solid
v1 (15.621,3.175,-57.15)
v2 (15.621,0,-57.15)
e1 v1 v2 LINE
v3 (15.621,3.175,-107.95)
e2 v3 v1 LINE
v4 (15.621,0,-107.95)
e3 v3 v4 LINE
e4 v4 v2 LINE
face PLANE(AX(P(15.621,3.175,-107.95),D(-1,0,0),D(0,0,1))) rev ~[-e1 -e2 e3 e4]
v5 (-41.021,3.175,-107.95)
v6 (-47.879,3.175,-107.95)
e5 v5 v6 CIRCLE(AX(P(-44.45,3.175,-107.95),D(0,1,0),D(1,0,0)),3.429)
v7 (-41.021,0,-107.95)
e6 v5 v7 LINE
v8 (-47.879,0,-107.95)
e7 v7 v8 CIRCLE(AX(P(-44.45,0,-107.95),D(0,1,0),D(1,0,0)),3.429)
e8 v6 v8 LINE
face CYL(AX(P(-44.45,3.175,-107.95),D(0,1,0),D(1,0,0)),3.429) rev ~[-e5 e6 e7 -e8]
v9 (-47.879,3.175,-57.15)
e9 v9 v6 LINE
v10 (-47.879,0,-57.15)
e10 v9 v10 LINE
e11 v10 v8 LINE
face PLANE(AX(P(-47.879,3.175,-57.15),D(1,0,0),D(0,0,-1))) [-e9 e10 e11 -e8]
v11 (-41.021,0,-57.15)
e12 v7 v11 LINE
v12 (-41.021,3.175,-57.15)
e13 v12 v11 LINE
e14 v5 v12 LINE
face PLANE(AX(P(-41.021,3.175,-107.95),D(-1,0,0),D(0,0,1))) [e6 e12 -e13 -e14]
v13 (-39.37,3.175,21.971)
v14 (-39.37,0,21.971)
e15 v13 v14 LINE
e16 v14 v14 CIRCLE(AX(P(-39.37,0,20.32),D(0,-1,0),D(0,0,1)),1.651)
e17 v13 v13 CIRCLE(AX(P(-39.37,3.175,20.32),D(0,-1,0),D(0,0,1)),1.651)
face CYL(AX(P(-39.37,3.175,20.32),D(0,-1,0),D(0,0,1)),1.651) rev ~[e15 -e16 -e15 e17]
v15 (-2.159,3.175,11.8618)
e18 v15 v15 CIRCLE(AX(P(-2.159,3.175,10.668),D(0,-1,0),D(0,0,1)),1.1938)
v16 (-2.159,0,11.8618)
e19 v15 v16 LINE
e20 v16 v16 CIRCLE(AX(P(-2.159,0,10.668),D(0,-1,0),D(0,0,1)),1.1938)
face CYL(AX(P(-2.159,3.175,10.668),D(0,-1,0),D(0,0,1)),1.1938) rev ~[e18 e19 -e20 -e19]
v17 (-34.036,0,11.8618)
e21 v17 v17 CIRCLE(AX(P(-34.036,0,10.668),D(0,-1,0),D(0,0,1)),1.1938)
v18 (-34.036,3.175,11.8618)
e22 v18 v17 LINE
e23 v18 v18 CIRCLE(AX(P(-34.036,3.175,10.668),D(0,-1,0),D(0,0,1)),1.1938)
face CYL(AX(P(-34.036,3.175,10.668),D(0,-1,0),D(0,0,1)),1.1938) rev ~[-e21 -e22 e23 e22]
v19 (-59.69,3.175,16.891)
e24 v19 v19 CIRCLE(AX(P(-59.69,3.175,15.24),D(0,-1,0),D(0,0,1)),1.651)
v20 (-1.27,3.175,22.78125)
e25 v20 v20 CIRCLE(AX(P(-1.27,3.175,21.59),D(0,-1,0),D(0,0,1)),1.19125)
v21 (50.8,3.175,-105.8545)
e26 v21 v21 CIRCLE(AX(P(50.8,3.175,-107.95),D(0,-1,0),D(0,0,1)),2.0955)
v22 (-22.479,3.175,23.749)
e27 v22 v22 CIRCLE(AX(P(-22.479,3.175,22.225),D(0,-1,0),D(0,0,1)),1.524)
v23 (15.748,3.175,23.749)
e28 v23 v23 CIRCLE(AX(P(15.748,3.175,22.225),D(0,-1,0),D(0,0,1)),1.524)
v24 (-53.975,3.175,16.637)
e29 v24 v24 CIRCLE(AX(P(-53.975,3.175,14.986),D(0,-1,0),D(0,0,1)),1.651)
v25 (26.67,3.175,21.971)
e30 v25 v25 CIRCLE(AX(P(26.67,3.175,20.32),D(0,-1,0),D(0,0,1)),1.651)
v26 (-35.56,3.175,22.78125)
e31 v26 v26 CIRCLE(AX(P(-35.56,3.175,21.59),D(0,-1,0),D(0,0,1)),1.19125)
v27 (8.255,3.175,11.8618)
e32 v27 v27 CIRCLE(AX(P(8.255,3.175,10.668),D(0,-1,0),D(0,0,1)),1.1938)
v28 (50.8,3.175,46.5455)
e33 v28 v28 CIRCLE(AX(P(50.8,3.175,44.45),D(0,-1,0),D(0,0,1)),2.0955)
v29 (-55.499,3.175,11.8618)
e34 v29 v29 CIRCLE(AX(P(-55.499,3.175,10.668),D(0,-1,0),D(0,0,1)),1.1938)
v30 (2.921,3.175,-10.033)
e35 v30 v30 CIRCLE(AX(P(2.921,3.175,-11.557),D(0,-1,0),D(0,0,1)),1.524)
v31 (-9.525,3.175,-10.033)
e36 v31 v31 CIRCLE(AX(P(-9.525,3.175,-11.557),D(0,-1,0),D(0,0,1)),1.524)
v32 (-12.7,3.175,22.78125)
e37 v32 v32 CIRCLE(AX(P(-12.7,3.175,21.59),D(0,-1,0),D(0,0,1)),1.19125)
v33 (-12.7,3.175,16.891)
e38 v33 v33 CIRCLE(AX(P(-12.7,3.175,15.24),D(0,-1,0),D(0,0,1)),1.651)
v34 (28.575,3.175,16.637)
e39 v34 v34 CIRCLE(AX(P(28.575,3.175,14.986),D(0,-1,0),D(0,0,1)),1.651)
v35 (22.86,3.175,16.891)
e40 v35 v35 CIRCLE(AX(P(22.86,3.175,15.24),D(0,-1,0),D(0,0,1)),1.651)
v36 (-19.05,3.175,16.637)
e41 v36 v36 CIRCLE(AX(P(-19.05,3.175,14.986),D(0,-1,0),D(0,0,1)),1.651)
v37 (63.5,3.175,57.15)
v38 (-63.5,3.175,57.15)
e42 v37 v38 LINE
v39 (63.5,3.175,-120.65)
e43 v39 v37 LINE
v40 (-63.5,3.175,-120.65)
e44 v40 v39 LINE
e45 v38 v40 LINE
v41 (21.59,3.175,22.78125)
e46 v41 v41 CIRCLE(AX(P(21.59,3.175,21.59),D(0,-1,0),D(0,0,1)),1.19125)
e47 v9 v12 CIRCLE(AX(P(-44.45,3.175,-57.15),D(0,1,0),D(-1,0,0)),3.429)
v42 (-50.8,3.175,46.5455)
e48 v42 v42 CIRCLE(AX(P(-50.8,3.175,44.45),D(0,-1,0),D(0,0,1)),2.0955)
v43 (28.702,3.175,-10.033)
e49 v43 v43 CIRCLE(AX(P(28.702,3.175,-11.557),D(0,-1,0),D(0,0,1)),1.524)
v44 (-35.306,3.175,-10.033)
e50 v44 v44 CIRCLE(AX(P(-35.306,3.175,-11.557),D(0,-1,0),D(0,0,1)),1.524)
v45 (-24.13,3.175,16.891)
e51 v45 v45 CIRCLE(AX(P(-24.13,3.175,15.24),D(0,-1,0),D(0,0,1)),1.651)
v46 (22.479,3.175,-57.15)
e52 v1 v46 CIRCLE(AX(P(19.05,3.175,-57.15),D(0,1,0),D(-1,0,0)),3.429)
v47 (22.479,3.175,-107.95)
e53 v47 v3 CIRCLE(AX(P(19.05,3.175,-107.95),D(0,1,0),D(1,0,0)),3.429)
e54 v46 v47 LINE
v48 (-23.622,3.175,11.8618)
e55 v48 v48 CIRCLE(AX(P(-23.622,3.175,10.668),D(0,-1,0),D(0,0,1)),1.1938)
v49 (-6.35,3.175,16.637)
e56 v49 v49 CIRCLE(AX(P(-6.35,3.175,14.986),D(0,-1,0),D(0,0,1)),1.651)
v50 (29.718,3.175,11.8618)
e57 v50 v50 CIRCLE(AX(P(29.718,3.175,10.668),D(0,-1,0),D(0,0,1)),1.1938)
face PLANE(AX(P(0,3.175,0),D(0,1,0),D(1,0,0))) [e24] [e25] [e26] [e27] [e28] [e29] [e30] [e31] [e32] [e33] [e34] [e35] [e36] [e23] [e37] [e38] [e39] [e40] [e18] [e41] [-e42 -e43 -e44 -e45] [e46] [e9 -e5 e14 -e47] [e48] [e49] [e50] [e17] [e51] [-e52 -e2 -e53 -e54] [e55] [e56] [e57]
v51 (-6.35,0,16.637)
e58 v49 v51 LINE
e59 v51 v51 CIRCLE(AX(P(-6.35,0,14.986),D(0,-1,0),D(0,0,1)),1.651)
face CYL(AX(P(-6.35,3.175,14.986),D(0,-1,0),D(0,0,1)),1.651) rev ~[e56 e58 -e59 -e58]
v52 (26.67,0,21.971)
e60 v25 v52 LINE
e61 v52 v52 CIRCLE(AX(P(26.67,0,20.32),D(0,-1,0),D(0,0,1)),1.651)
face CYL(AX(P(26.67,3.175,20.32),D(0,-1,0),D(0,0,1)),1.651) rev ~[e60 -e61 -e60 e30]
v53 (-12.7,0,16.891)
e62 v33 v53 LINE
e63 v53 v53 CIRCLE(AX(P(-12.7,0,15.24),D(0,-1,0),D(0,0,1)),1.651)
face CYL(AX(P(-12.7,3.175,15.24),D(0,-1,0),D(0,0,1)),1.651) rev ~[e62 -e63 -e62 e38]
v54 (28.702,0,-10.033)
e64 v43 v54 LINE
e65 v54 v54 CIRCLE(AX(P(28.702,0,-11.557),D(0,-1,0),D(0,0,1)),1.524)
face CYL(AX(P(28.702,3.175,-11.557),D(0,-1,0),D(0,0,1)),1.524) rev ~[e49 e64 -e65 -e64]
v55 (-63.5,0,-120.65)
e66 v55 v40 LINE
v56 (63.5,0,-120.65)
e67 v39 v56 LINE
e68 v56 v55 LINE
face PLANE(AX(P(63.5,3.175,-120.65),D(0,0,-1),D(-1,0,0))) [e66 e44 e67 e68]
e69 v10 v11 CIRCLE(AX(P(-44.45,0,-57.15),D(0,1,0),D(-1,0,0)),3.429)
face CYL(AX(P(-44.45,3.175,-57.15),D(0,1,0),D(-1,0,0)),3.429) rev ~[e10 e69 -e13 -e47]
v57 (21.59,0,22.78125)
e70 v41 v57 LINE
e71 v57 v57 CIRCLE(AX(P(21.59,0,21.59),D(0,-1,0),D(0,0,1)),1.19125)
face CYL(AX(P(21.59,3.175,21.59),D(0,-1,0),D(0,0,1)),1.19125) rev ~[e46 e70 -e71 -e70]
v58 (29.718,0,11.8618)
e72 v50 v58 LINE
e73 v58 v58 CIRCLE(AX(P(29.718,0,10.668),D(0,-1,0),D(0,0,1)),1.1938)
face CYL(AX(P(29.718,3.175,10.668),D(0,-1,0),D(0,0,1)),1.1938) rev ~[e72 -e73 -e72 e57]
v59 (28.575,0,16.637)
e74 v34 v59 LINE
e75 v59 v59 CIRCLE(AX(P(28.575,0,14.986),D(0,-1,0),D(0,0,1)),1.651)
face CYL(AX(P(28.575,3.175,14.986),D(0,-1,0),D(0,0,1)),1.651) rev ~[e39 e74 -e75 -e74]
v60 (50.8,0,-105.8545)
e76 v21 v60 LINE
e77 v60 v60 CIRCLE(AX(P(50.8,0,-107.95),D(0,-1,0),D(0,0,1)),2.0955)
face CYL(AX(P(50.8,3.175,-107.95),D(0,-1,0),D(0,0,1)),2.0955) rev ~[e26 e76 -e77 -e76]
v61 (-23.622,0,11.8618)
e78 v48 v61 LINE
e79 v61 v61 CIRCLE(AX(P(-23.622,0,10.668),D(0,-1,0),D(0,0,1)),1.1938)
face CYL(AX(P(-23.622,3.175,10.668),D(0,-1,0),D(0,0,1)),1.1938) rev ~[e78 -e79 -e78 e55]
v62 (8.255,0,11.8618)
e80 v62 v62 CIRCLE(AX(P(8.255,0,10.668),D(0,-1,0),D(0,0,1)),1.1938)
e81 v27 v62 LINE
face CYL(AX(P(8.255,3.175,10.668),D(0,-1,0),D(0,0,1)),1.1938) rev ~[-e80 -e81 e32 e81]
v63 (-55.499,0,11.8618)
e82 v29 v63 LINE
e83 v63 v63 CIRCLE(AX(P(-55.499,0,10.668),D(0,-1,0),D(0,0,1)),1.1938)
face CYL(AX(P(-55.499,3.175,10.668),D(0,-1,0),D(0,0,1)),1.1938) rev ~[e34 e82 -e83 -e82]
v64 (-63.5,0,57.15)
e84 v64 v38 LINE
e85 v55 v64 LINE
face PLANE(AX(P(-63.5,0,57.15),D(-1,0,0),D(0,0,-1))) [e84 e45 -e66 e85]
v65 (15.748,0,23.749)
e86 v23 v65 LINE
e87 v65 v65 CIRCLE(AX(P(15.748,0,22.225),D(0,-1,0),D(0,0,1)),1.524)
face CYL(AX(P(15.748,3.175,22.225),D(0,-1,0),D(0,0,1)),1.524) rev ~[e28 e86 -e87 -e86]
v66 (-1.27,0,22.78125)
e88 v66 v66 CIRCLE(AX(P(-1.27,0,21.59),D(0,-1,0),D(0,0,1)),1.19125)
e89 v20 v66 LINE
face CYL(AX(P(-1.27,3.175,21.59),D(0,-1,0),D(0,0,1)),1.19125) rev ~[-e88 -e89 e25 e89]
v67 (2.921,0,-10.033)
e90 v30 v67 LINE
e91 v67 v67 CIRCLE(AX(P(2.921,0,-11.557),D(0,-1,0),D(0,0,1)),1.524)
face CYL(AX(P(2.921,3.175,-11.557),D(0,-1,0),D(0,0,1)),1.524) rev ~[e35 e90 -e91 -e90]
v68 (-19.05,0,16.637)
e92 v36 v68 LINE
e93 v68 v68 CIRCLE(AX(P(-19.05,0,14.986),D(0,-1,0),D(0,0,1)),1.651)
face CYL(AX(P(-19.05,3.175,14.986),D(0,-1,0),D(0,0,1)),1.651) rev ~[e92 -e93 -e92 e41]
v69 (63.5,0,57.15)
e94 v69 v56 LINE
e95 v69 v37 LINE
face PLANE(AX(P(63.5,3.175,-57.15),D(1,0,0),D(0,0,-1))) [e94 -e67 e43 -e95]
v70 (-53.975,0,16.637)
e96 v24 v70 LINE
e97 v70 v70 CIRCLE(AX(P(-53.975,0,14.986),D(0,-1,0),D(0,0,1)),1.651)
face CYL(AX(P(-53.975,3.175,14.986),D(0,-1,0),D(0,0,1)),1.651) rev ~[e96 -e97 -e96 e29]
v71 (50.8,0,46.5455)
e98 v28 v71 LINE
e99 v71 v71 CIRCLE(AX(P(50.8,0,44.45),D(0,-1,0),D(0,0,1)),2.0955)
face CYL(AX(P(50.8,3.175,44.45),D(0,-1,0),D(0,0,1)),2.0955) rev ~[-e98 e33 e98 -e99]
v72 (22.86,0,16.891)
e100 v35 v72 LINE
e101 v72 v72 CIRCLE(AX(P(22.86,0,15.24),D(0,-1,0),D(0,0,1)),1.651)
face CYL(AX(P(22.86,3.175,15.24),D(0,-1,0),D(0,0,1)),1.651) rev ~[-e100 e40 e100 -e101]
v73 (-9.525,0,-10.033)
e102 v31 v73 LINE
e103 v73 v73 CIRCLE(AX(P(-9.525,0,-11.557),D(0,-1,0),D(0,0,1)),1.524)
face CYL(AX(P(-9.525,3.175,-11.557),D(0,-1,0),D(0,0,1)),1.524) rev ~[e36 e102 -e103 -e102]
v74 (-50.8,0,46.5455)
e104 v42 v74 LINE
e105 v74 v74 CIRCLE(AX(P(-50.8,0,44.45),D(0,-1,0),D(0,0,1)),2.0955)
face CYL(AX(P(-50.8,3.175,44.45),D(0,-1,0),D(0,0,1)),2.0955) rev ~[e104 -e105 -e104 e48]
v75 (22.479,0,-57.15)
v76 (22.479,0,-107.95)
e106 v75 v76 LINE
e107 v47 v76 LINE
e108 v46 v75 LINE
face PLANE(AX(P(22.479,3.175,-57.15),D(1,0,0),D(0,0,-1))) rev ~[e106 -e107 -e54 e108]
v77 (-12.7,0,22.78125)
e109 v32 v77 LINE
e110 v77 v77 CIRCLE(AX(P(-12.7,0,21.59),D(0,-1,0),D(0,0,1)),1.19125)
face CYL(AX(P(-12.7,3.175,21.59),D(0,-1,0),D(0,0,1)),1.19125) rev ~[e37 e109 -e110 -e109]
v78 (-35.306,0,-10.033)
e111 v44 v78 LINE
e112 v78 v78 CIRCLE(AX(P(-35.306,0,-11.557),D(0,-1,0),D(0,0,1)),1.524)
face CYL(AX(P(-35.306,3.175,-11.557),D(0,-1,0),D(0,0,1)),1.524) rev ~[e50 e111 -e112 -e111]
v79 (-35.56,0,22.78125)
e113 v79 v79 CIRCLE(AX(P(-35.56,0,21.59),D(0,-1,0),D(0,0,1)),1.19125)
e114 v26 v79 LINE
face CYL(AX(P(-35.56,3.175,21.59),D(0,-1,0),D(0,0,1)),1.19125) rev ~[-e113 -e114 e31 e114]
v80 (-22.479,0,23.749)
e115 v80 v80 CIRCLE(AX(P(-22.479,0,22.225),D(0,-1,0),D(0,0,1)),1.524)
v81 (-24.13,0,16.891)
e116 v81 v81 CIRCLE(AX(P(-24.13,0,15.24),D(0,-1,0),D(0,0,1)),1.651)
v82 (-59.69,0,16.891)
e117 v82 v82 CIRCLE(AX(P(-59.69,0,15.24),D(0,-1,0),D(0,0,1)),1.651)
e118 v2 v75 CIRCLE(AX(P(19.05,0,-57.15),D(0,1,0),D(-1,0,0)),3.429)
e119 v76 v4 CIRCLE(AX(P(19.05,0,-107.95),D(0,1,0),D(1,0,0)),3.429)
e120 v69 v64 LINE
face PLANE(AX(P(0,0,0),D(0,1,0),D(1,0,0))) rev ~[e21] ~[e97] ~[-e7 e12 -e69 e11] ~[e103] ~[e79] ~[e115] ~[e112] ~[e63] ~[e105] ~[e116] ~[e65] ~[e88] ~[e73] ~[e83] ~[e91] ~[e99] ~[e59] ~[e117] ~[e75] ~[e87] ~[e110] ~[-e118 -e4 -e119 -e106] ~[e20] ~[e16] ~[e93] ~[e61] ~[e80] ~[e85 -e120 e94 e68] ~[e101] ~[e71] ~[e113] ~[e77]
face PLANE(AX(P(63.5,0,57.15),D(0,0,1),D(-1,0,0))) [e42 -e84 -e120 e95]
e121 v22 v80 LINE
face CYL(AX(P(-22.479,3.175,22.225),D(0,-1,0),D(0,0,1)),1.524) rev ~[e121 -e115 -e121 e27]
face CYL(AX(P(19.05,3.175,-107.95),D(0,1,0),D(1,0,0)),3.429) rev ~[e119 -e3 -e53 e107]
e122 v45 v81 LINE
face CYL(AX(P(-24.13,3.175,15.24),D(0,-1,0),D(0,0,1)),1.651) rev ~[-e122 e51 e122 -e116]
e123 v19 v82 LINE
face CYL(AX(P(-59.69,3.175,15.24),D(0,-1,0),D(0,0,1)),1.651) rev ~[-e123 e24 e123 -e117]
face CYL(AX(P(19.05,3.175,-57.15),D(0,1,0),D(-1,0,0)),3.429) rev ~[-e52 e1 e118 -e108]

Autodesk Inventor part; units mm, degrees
ref_plane "YZ Plane" through (0, 0, 0) normal (1, 0, 0) x (0, 1, 0)
ref_plane "XZ Plane" through (0, 0, 0) normal (0, 1, 0) x (-1, 0, 0)
ref_plane "XY Plane" through (0, 0, 0) normal (0, 0, 1) x (1, 0, 0)
sketch "Sketch1" plane through (0, 0, 0) normal (0, 1, 0) x (-1, 0, 0)
  line L0 (-63.5, 57.15) -> (63.5, 57.15)
  line L1 (63.5, 57.15) -> (63.5, -57.15)
  line L2 (63.5, -57.15) -> (-63.5, -57.15)
  line L3 (-63.5, -57.15) -> (-63.5, 57.15)
  line L4 (-63.5, 57.15) -> (63.5, -57.15) construction
  line L5 (63.5, 57.15) -> (-63.5, -57.15) construction
  line L6 (63.5, -57.15) -> (-38.1, -57.15)
  line L7 (-38.1, -57.15) -> (-38.1, -120.65)
  line L8 (-38.1, -120.65) -> (63.5, -120.65)
  line L9 (63.5, -120.65) -> (63.5, -57.15)
  line L10 (-38.1, -57.15) -> (-63.5, -57.15)
  line L11 (-63.5, -57.15) -> (-63.5, -120.65)
  line L12 (-63.5, -120.65) -> (-38.1, -120.65)
  line L13 (-38.1, -120.65) -> (-38.1, -57.15)
  point P0 (0, 0)
  dimension "d9" = 12.7
  dimension "d0" = 127
  dimension "d1" = 114.3
  dimension "d2" = 63.5
  dimension "d3" = 101.6
extrude "Extrusion1" add sketch "Sketch1" along normal blind 3.175 contours L0 L1 L2 L3 | L9 L8 L7 L2
sketch "Sketch2" plane through (0, 3.175, 0) normal (0, 1, 0) x (1, 0, 0)
  line L0 (-63.5, 120.65) -> (-63.5, -57.15) projected
  line L1 (-63.5, -57.15) -> (63.5, -57.15) projected
  line L2 (63.5, -57.15) -> (63.5, 57.15) projected
  line L3 (63.5, 57.15) -> (38.1, 57.15) projected
  line L4 (38.1, 57.15) -> (-63.5, 57.15) construction
  line L5 (-63.5, 57.15) -> (-63.5, -44.45) construction
  line L6 (-63.5, -44.45) -> (38.1, -44.45) construction
  line L7 (38.1, -44.45) -> (38.1, 57.15) construction
  line L8 (50.8, 57.15) -> (50.8, -57.15) construction
  line L9 (-63.5, -44.45) -> (63.5, -44.45) construction
  point P0 (0, 0)
  point P1 (50.8, -44.45)
  point P2 (-50.8, -44.45)
  dimension "d7" = 101.6
  dimension "d8" = 101.6
  dimension "d9" = 12.7
  dimension "d10" = 12.7
hole "Hole1" at (50.8, 3.175, 44.45) at (-50.8, 3.175, 44.45) direction (0, -1, 0) diameter 4.191 end through all
sketch "Sketch3" plane through (0, 3.175, 0) normal (0, 1, 0) x (1, 0, 0)
  line L0 (38.1, 57.15) -> (38.1, 120.65) projected
  line L1 (38.1, 120.65) -> (-63.5, 120.65) projected
  line L2 (19.05, 107.95) -> (19.05, 57.15) construction
  line L3 (15.621, 107.95) -> (15.621, 57.15)
  line L4 (22.479, 57.15) -> (22.479, 107.95)
  arc A0 (22.479, 107.95) -> (15.621, 107.95) centre (19.05, 107.95) ccw
  arc A1 (15.621, 57.15) -> (22.479, 57.15) centre (19.05, 57.15) ccw
  line L5 (-12.7, 120.65) -> (-12.7, 57.15) construction
  line L6 (-44.45, 107.95) -> (-44.45, 57.15) construction
  line L7 (-41.021, 107.95) -> (-41.021, 57.15)
  line L8 (-47.879, 57.15) -> (-47.879, 107.95)
  arc A2 (-41.021, 107.95) -> (-47.879, 107.95) centre (-44.45, 107.95) ccw
  arc A3 (-47.879, 57.15) -> (-41.021, 57.15) centre (-44.45, 57.15) ccw
  point P0 (0, 0)
  point P1 (19.05, 82.55)
  point P2 (-44.45, 82.55)
  dimension "d19" = 6.858
  dimension "d20" = 19.05
  dimension "d21" = 12.7
  dimension "d22" = 50.8
extrude "Extrusion2" cut sketch "Sketch3" against normal through all
sketch "Sketch4" plane through (0, 3.175, 0) normal (0, 1, 0) x (1, 0, 0)
  arc A0 (15.621, 57.15) -> (22.479, 57.15) centre (19.05, 57.15) ccw projected
  line L0 (15.621, 57.15) -> (15.621, 107.95) projected
  arc A1 (22.479, 107.95) -> (15.621, 107.95) centre (19.05, 107.95) ccw projected
  line L1 (22.479, 107.95) -> (22.479, 57.15) projected
  arc A2 (-41.021, 107.95) -> (-47.879, 107.95) centre (-44.45, 107.95) ccw projected
  line L2 (-41.021, 107.95) -> (-41.021, 57.15) projected
  arc A3 (-47.879, 57.15) -> (-41.021, 57.15) centre (-44.45, 57.15) ccw projected
  line L3 (-47.879, 57.15) -> (-47.879, 107.95) projected
  circle A4 centre (50.8, 44.45) radius 2.0955 projected
  circle A5 centre (50.8, -44.45) radius 2.0955 projected
  circle A6 centre (-50.8, -44.45) radius 2.0955 projected
  line L4 (38.1, 57.15) -> (38.1, 120.65) projected
  line L5 (38.1, 120.65) -> (-63.5, 120.65) projected
  line L6 (-63.5, 120.65) -> (-63.5, -57.15) projected
  line L7 (-63.5, -57.15) -> (63.5, -57.15) projected
  line L8 (63.5, -57.15) -> (63.5, 57.15) projected
  line L9 (63.5, 57.15) -> (38.1, 57.15) projected
  line L10 (38.1, 57.15) -> (38.1, -57.15) construction
  line L11 (-63.5, -31.75) -> (63.5, -31.75) construction
  line L12 (-63.5, -25.4) -> (63.5, -25.4) construction
  line L13 (31.75, 53.1705) -> (31.75, -25.4) construction
  point P0 (0, 0)
  dimension "d9" = 12.7
  dimension "d25" = 25.4
  dimension "d156" = 31.75
  dimension "d157" = 31.75
sketch "battery buzzer/ SmartSensorPowered" plane through (0, 3.175, 0) normal (0, 1, 0) x (1, 0, 0)
  line L0 (31.75, -12.7) -> (6.223, -12.7)
  line L1 (6.223, -12.7) -> (6.223, 34.29)
  line L2 (6.223, 34.29) -> (31.75, 34.29)
  line L3 (31.75, 34.29) -> (31.75, -12.7)
  line L4 (-0.127, -12.7) -> (-0.127, 34.29)
  line L5 (-0.127, 34.29) -> (-25.654, 34.29)
  line L6 (-25.654, 34.29) -> (-25.654, -12.7)
  line L7 (-25.654, -12.7) -> (-0.127, -12.7)
  line L8 (-32.004, -12.7) -> (-57.531, -12.7)
  line L9 (-57.531, -12.7) -> (-57.531, 34.29)
  line L10 (-57.531, 34.29) -> (-32.004, 34.29)
  line L11 (-32.004, 34.29) -> (-32.004, -12.7)
  circle A0 centre (29.718, -10.668) radius 1.1887
  circle A1 centre (8.255, -10.668) radius 1.1887
  circle A2 centre (-2.159, -10.668) radius 1.1887
  circle A3 centre (-23.622, -10.668) radius 1.1887
  circle A4 centre (-34.036, -10.668) radius 1.1887
  circle A5 centre (-55.499, -10.668) radius 1.1887
  point P0 (0, 0)
  point P1 (-0.127, -12.7)
  point P2 (-25.654, -12.7)
  point P3 (-32.004, -12.7)
  point P4 (-57.531, -12.7)
  dimension "d9" = 12.7
sketch "controller" plane through (0, 3.175, 0) normal (0, 1, 0) x (1, 0, 0)
  line L0 (-63.5, 120.65) -> (-63.5, -57.15) projected
  line L1 (63.5, -57.15) -> (63.5, 57.15) projected
  line L2 (-63.5, -57.15) -> (-63.5, -19.05) construction
  line L3 (-63.5, -57.15) -> (-63.5, -25.4) construction
  line L4 (-63.5, -25.4) -> (63.5, -25.4) construction
  line L5 (63.5, -25.4) -> (31.75, -25.4) construction
  line L6 (31.75, -25.4) -> (31.75, 57.15) construction
  line L7 (31.75, -25.4) -> (-44.45, -25.4)
  line L8 (-44.45, -25.4) -> (-44.45, 50.8)
  line L9 (-44.45, 50.8) -> (31.75, 50.8)
  line L10 (31.75, 50.8) -> (31.75, -25.4)
  circle A0 centre (26.67, -20.32) radius 1.651
  circle A1 centre (-39.37, -20.32) radius 1.651
  circle A2 centre (26.67, 45.72) radius 1.651
  circle A3 centre (-39.37, 45.72) radius 1.651
  point P0 (0, 0)
  dimension "d9" = 12.7
  dimension "d46" = 76.2
  dimension "d47" = 76.2
  dimension "d108" = 3.302
  dimension "d109" = 3.302
  dimension "d110" = 3.302
  dimension "d111" = 3.302
  dimension "d112" = 5.08
  dimension "d113" = 5.08
  dimension "d114" = 5.08
  dimension "d115" = 5.08
  dimension "d116" = 5.08
  dimension "d117" = 5.08
  dimension "d118" = 5.08
  dimension "d119" = 5.08
sketch "grizzly_bear" plane through (0, 3.175, 0) normal (0, 1, 0) x (1, 0, 0)
  line L0 (-63.5, 120.65) -> (-63.5, -57.15) projected
  line L1 (-63.5, -57.15) -> (63.5, -57.15) projected
  line L2 (-63.5, -17.78) -> (63.5, -17.78) construction
  line L3 (31.75, -17.78) -> (-9.525, -17.78)
  line L4 (-15.875, -17.78) -> (-57.15, -17.78)
  line L5 (-57.15, -17.78) -> (-57.15, 58.42)
  line L6 (-57.15, 58.42) -> (-15.875, 58.42)
  line L7 (-15.875, 58.42) -> (-15.875, -17.78)
  line L8 (31.75, -17.78) -> (31.75, 58.42)
  line L9 (31.75, 58.42) -> (-9.525, 58.42)
  line L10 (-9.525, 58.42) -> (-9.525, -17.78)
  line L11 (63.5, 57.15) -> (63.5, 50.8) construction
  circle A0 centre (28.575, -14.986) radius 1.651
  circle A1 centre (-6.35, -14.986) radius 1.651
  circle A2 centre (28.575, 55.626) radius 1.651
  line L12 (63.5, -57.15) -> (63.5, 57.15) projected
  circle A3 centre (-19.05, -14.986) radius 1.651
  circle A4 centre (-53.975, -14.986) radius 1.651
  line L13 (-63.5, -25.4) -> (63.5, -25.4) construction
  point P0 (0, 0)
  point P1 (-15.875, -17.78)
  point P2 (-57.15, -17.78)
  dimension "d9" = 12.7
  dimension "d38" = 41.275
  dimension "d39" = 6.35
  dimension "d40" = 41.275
  dimension "d41" = 76.2
  dimension "d120" = 3.302
  dimension "d121" = 3.175
  dimension "d122" = 2.794
  dimension "d123" = 3.302
  dimension "d124" = 2.794
  dimension "d125" = 3.175
  dimension "d126" = 3.302
  dimension "d127" = 2.794
  dimension "d128" = 3.175
  dimension "d164" = 41.275
  dimension "d189" = 127
  dimension "d192" = 31.75
  dimension "d193" = 7.62
sketch "koala_bear" plane through (0, 3.175, 0) normal (0, 1, 0) x (1, 0, 0)
  line L0 (-63.5, 120.65) -> (-63.5, -57.15) projected
  line L1 (-63.5, -57.15) -> (63.5, -57.15) projected
  line L2 (63.5, -57.15) -> (63.5, 57.15) projected
  line L3 (-63.5, -25.4) -> (63.5, -25.4) construction
  line L4 (31.75, -57.15) -> (31.75, 57.15) construction
  line L5 (31.75, -25.4) -> (-0.127, -25.4)
  line L6 (-0.127, -25.4) -> (-0.127, 14.605)
  line L7 (-0.127, 14.605) -> (31.75, 14.605)
  line L8 (31.75, -25.4) -> (31.75, 14.605)
  line L9 (-6.477, -25.4) -> (-6.477, 14.605)
  line L10 (-6.477, 14.605) -> (-38.354, 14.605)
  line L11 (-38.354, 14.605) -> (-38.354, -25.4)
  line L12 (-6.477, -25.4) -> (-38.354, -25.4)
  circle A0 centre (28.702, 11.557) radius 1.524
  circle A1 centre (2.921, 11.557) radius 1.524
  circle A2 centre (2.921, -4.572) radius 1.524
  circle A3 centre (15.748, -22.225) radius 1.524
  circle A4 centre (-22.479, -22.225) radius 1.524
  circle A5 centre (-35.306, 11.557) radius 1.524
  circle A6 centre (-9.525, 11.557) radius 1.524
  point P0 (0, 0)
  dimension "d9" = 12.7
  dimension "d58" = 31.877
  dimension "d59" = 40.005
  dimension "d145" = 3.048
  dimension "d146" = 3.048
  dimension "d147" = 3.048
  dimension "d148" = 3.048
  dimension "d149" = 3.048
  dimension "d150" = 3.048
  dimension "d151" = 3.048
  dimension "d152" = 19.177
  dimension "d153" = 3.048
  dimension "d154" = 3.175
  dimension "d155" = 16.002
  dimension "d168" = 3.048
  dimension "d196" = 3.048
  dimension "d239" = 3.048
sketch "smartsensor" plane through (0, 3.175, 0) normal (0, 1, 0) x (1, 0, 0)
  line L0 (-63.5, 120.65) -> (-63.5, -57.15) projected
  line L1 (63.5, -57.15) -> (63.5, 57.15) projected
  line L2 (-63.5, -25.4) -> (63.5, -25.4) construction
  line L3 (31.75, 54.3858) -> (31.75, -25.4) construction
  line L4 (24.13, -25.4) -> (-3.81, -25.4)
  line L5 (-3.81, -25.4) -> (-3.81, 7.62)
  line L6 (-3.81, 7.62) -> (24.13, 7.62)
  line L7 (24.13, 7.62) -> (24.13, -25.4)
  line L8 (-10.16, -25.4) -> (-38.1, -25.4)
  line L9 (-38.1, -25.4) -> (-38.1, 7.62)
  line L10 (-38.1, 7.62) -> (-10.16, 7.62)
  line L11 (-10.16, 7.62) -> (-10.16, -25.4)
  circle A0 centre (21.59, -21.59) radius 1.1913
  circle A1 centre (17.78, -21.59) radius 1.1913
  circle A2 centre (13.97, -21.59) radius 1.1913
  circle A3 centre (10.16, -21.59) radius 1.1913
  circle A4 centre (6.35, -21.59) radius 1.1913
  circle A5 centre (2.54, -21.59) radius 1.1913
  circle A6 centre (-1.27, -21.59) radius 1.1913
  circle A7 centre (-12.7, -21.59) radius 1.1913
  circle A8 centre (-16.51, -21.59) radius 1.1913
  circle A9 centre (-20.32, -21.59) radius 1.1913
  circle A10 centre (-24.13, -21.59) radius 1.1913
  circle A11 centre (-27.94, -21.59) radius 1.1913
  circle A12 centre (-31.75, -21.59) radius 1.1913
  circle A13 centre (-35.56, -21.59) radius 1.1913
  point P0 (0, 0)
  dimension "d9" = 12.7
  dimension "d64" = 27.94
  dimension "d65" = 33.02
  dimension "d129" = 2.3825
  dimension "d130" = 3.81
  dimension "d131" = 2.54
  dimension "d132" = 2.3825
  dimension "d137" = 3.81
  dimension "d138" = 3.81
  dimension "d139" = 3.81
  dimension "d140" = 3.81
  dimension "d141" = 3.81
  dimension "d143" = 3.81
  dimension "d144" = 2.54
  dimension "d194" = 7.62
sketch "team_flag" plane through (0, 3.175, 0) normal (0, 1, 0) x (1, 0, 0)
  line L0 (-63.5, 120.65) -> (-63.5, -57.15) projected
  line L1 (63.5, -57.15) -> (63.5, 57.15) projected
  line L2 (31.75, 51.8358) -> (31.75, -17.78) construction
  line L3 (25.4, -17.78) -> (-15.24, -17.78)
  line L4 (-15.24, -17.78) -> (-15.24, 22.86)
  line L5 (-15.24, 22.86) -> (25.4, 22.86)
  line L6 (25.4, 22.86) -> (25.4, -17.78)
  line L7 (-21.59, 22.86) -> (-21.59, -17.78)
  line L8 (-21.59, 22.86) -> (-62.23, 22.86)
  line L9 (-62.23, 22.86) -> (-62.23, -17.78)
  line L10 (-62.23, -17.78) -> (-21.59, -17.78)
  circle A0 centre (22.86, 20.32) radius 1.651
  circle A1 centre (-12.7, 20.32) radius 1.651
  circle A2 centre (-12.7, -15.24) radius 1.651
  circle A3 centre (22.86, -15.24) radius 1.651
  line L11 (-63.5, -25.4) -> (63.5, -25.4) construction
  circle A4 centre (-24.13, 20.32) radius 1.651
  circle A5 centre (-59.69, 20.32) radius 1.651
  circle A6 centre (-59.69, -15.24) radius 1.651
  circle A7 centre (-24.13, -15.24) radius 1.651
  point P0 (0, 0)
  point P1 (-21.59, -17.78)
  point P2 (-62.23, -17.78)
  point P3 (-62.23, 22.86)
  point P4 (-21.59, 22.86)
  dimension "d9" = 12.7
  dimension "d78" = 40.64
  dimension "d81" = 40.64
  dimension "d83" = 3.302
  dimension "d84" = 2.54
  dimension "d85" = 2.54
  dimension "d86" = 3.302
  dimension "d89" = 3.302
  dimension "d90" = 3.302
  dimension "d95" = 2.54
  dimension "d96" = 2.54
  dimension "d99" = 2.54
  dimension "d100" = 2.54
  dimension "d187" = 7.62
  dimension "d188" = 6.35
  dimension "d195" = 2.54
hole "Hole2" at (29.718, 3.175, 10.668) at (8.255, 3.175, 10.668) at (-2.159, 3.175, 10.668) at (-23.622, 3.175, 10.668) at (-34.036, 3.175, 10.668) at (-55.499, 3.175, 10.668) direction (0, -1, 0) diameter 2.3876 end through all
hole "Hole3" at (-53.975, 3.175, 14.986) at (-19.05, 3.175, 14.986) at (-6.35, 3.175, 14.986) at (28.575, 3.175, 14.986) direction (0, -1, 0) diameter 3.302 end through all
hole "Hole4" at (22.86, 3.175, 15.24) at (-12.7, 3.175, 15.24) at (-24.13, 3.175, 15.24) at (-59.69, 3.175, 15.24) direction (0, -1, 0) diameter 3.302 end through all
hole "Hole5" at (26.67, 3.175, 20.32) at (-39.37, 3.175, 20.32) direction (0, -1, 0) diameter 3.302 end through all
hole "Hole6" at (21.59, 3.175, 21.59) at (-1.27, 3.175, 21.59) at (-12.7, 3.175, 21.59) at (-35.56, 3.175, 21.59) direction (0, -1, 0) diameter 2.3825 end through all
hole "Hole7" at (-35.306, 3.175, -11.557) at (2.921, 3.175, -11.557) at (-22.479, 3.175, 22.225) at (15.748, 3.175, 22.225) at (-9.525, 3.175, -11.557) at (28.702, 3.175, -11.557) direction (0, -1, 0) diameter 3.048 end through all
sketch "Sketch12" plane through (0, 3.175, 0) normal (0, 1, 0) x (1, 0, 0)
  line L0 (38.1, 57.15) -> (63.5, 57.15)
  line L1 (63.5, 57.15) -> (63.5, 120.65)
  line L2 (63.5, 120.65) -> (38.1, 120.65)
  line L3 (38.1, 120.65) -> (38.1, 57.15)
  point P0 (0, 0)
  dimension "d9" = 12.7
extrude "Extrusion3" add sketch "Sketch12" against normal blind 3.175
sketch "Sketch13" plane through (0, 3.175, 0) normal (0, 1, 0) x (1, 0, 0)
  circle A0 centre (50.8, 107.95) radius 2.0955
  line L0 (63.5, 120.65) -> (-63.5, 120.65) projected
  line L1 (63.5, -57.15) -> (63.5, 120.65) projected
  point P0 (0, 0)
  dimension "d9" = 12.7
  dimension "d242" = 4.191
  dimension "d250" = 12.7
  dimension "d251" = 12.7
hole "Hole8" at (50.8, 3.175, -107.95) direction (0, -1, 0) diameter 4.191 end through all
properties part number "bottomLayer"
